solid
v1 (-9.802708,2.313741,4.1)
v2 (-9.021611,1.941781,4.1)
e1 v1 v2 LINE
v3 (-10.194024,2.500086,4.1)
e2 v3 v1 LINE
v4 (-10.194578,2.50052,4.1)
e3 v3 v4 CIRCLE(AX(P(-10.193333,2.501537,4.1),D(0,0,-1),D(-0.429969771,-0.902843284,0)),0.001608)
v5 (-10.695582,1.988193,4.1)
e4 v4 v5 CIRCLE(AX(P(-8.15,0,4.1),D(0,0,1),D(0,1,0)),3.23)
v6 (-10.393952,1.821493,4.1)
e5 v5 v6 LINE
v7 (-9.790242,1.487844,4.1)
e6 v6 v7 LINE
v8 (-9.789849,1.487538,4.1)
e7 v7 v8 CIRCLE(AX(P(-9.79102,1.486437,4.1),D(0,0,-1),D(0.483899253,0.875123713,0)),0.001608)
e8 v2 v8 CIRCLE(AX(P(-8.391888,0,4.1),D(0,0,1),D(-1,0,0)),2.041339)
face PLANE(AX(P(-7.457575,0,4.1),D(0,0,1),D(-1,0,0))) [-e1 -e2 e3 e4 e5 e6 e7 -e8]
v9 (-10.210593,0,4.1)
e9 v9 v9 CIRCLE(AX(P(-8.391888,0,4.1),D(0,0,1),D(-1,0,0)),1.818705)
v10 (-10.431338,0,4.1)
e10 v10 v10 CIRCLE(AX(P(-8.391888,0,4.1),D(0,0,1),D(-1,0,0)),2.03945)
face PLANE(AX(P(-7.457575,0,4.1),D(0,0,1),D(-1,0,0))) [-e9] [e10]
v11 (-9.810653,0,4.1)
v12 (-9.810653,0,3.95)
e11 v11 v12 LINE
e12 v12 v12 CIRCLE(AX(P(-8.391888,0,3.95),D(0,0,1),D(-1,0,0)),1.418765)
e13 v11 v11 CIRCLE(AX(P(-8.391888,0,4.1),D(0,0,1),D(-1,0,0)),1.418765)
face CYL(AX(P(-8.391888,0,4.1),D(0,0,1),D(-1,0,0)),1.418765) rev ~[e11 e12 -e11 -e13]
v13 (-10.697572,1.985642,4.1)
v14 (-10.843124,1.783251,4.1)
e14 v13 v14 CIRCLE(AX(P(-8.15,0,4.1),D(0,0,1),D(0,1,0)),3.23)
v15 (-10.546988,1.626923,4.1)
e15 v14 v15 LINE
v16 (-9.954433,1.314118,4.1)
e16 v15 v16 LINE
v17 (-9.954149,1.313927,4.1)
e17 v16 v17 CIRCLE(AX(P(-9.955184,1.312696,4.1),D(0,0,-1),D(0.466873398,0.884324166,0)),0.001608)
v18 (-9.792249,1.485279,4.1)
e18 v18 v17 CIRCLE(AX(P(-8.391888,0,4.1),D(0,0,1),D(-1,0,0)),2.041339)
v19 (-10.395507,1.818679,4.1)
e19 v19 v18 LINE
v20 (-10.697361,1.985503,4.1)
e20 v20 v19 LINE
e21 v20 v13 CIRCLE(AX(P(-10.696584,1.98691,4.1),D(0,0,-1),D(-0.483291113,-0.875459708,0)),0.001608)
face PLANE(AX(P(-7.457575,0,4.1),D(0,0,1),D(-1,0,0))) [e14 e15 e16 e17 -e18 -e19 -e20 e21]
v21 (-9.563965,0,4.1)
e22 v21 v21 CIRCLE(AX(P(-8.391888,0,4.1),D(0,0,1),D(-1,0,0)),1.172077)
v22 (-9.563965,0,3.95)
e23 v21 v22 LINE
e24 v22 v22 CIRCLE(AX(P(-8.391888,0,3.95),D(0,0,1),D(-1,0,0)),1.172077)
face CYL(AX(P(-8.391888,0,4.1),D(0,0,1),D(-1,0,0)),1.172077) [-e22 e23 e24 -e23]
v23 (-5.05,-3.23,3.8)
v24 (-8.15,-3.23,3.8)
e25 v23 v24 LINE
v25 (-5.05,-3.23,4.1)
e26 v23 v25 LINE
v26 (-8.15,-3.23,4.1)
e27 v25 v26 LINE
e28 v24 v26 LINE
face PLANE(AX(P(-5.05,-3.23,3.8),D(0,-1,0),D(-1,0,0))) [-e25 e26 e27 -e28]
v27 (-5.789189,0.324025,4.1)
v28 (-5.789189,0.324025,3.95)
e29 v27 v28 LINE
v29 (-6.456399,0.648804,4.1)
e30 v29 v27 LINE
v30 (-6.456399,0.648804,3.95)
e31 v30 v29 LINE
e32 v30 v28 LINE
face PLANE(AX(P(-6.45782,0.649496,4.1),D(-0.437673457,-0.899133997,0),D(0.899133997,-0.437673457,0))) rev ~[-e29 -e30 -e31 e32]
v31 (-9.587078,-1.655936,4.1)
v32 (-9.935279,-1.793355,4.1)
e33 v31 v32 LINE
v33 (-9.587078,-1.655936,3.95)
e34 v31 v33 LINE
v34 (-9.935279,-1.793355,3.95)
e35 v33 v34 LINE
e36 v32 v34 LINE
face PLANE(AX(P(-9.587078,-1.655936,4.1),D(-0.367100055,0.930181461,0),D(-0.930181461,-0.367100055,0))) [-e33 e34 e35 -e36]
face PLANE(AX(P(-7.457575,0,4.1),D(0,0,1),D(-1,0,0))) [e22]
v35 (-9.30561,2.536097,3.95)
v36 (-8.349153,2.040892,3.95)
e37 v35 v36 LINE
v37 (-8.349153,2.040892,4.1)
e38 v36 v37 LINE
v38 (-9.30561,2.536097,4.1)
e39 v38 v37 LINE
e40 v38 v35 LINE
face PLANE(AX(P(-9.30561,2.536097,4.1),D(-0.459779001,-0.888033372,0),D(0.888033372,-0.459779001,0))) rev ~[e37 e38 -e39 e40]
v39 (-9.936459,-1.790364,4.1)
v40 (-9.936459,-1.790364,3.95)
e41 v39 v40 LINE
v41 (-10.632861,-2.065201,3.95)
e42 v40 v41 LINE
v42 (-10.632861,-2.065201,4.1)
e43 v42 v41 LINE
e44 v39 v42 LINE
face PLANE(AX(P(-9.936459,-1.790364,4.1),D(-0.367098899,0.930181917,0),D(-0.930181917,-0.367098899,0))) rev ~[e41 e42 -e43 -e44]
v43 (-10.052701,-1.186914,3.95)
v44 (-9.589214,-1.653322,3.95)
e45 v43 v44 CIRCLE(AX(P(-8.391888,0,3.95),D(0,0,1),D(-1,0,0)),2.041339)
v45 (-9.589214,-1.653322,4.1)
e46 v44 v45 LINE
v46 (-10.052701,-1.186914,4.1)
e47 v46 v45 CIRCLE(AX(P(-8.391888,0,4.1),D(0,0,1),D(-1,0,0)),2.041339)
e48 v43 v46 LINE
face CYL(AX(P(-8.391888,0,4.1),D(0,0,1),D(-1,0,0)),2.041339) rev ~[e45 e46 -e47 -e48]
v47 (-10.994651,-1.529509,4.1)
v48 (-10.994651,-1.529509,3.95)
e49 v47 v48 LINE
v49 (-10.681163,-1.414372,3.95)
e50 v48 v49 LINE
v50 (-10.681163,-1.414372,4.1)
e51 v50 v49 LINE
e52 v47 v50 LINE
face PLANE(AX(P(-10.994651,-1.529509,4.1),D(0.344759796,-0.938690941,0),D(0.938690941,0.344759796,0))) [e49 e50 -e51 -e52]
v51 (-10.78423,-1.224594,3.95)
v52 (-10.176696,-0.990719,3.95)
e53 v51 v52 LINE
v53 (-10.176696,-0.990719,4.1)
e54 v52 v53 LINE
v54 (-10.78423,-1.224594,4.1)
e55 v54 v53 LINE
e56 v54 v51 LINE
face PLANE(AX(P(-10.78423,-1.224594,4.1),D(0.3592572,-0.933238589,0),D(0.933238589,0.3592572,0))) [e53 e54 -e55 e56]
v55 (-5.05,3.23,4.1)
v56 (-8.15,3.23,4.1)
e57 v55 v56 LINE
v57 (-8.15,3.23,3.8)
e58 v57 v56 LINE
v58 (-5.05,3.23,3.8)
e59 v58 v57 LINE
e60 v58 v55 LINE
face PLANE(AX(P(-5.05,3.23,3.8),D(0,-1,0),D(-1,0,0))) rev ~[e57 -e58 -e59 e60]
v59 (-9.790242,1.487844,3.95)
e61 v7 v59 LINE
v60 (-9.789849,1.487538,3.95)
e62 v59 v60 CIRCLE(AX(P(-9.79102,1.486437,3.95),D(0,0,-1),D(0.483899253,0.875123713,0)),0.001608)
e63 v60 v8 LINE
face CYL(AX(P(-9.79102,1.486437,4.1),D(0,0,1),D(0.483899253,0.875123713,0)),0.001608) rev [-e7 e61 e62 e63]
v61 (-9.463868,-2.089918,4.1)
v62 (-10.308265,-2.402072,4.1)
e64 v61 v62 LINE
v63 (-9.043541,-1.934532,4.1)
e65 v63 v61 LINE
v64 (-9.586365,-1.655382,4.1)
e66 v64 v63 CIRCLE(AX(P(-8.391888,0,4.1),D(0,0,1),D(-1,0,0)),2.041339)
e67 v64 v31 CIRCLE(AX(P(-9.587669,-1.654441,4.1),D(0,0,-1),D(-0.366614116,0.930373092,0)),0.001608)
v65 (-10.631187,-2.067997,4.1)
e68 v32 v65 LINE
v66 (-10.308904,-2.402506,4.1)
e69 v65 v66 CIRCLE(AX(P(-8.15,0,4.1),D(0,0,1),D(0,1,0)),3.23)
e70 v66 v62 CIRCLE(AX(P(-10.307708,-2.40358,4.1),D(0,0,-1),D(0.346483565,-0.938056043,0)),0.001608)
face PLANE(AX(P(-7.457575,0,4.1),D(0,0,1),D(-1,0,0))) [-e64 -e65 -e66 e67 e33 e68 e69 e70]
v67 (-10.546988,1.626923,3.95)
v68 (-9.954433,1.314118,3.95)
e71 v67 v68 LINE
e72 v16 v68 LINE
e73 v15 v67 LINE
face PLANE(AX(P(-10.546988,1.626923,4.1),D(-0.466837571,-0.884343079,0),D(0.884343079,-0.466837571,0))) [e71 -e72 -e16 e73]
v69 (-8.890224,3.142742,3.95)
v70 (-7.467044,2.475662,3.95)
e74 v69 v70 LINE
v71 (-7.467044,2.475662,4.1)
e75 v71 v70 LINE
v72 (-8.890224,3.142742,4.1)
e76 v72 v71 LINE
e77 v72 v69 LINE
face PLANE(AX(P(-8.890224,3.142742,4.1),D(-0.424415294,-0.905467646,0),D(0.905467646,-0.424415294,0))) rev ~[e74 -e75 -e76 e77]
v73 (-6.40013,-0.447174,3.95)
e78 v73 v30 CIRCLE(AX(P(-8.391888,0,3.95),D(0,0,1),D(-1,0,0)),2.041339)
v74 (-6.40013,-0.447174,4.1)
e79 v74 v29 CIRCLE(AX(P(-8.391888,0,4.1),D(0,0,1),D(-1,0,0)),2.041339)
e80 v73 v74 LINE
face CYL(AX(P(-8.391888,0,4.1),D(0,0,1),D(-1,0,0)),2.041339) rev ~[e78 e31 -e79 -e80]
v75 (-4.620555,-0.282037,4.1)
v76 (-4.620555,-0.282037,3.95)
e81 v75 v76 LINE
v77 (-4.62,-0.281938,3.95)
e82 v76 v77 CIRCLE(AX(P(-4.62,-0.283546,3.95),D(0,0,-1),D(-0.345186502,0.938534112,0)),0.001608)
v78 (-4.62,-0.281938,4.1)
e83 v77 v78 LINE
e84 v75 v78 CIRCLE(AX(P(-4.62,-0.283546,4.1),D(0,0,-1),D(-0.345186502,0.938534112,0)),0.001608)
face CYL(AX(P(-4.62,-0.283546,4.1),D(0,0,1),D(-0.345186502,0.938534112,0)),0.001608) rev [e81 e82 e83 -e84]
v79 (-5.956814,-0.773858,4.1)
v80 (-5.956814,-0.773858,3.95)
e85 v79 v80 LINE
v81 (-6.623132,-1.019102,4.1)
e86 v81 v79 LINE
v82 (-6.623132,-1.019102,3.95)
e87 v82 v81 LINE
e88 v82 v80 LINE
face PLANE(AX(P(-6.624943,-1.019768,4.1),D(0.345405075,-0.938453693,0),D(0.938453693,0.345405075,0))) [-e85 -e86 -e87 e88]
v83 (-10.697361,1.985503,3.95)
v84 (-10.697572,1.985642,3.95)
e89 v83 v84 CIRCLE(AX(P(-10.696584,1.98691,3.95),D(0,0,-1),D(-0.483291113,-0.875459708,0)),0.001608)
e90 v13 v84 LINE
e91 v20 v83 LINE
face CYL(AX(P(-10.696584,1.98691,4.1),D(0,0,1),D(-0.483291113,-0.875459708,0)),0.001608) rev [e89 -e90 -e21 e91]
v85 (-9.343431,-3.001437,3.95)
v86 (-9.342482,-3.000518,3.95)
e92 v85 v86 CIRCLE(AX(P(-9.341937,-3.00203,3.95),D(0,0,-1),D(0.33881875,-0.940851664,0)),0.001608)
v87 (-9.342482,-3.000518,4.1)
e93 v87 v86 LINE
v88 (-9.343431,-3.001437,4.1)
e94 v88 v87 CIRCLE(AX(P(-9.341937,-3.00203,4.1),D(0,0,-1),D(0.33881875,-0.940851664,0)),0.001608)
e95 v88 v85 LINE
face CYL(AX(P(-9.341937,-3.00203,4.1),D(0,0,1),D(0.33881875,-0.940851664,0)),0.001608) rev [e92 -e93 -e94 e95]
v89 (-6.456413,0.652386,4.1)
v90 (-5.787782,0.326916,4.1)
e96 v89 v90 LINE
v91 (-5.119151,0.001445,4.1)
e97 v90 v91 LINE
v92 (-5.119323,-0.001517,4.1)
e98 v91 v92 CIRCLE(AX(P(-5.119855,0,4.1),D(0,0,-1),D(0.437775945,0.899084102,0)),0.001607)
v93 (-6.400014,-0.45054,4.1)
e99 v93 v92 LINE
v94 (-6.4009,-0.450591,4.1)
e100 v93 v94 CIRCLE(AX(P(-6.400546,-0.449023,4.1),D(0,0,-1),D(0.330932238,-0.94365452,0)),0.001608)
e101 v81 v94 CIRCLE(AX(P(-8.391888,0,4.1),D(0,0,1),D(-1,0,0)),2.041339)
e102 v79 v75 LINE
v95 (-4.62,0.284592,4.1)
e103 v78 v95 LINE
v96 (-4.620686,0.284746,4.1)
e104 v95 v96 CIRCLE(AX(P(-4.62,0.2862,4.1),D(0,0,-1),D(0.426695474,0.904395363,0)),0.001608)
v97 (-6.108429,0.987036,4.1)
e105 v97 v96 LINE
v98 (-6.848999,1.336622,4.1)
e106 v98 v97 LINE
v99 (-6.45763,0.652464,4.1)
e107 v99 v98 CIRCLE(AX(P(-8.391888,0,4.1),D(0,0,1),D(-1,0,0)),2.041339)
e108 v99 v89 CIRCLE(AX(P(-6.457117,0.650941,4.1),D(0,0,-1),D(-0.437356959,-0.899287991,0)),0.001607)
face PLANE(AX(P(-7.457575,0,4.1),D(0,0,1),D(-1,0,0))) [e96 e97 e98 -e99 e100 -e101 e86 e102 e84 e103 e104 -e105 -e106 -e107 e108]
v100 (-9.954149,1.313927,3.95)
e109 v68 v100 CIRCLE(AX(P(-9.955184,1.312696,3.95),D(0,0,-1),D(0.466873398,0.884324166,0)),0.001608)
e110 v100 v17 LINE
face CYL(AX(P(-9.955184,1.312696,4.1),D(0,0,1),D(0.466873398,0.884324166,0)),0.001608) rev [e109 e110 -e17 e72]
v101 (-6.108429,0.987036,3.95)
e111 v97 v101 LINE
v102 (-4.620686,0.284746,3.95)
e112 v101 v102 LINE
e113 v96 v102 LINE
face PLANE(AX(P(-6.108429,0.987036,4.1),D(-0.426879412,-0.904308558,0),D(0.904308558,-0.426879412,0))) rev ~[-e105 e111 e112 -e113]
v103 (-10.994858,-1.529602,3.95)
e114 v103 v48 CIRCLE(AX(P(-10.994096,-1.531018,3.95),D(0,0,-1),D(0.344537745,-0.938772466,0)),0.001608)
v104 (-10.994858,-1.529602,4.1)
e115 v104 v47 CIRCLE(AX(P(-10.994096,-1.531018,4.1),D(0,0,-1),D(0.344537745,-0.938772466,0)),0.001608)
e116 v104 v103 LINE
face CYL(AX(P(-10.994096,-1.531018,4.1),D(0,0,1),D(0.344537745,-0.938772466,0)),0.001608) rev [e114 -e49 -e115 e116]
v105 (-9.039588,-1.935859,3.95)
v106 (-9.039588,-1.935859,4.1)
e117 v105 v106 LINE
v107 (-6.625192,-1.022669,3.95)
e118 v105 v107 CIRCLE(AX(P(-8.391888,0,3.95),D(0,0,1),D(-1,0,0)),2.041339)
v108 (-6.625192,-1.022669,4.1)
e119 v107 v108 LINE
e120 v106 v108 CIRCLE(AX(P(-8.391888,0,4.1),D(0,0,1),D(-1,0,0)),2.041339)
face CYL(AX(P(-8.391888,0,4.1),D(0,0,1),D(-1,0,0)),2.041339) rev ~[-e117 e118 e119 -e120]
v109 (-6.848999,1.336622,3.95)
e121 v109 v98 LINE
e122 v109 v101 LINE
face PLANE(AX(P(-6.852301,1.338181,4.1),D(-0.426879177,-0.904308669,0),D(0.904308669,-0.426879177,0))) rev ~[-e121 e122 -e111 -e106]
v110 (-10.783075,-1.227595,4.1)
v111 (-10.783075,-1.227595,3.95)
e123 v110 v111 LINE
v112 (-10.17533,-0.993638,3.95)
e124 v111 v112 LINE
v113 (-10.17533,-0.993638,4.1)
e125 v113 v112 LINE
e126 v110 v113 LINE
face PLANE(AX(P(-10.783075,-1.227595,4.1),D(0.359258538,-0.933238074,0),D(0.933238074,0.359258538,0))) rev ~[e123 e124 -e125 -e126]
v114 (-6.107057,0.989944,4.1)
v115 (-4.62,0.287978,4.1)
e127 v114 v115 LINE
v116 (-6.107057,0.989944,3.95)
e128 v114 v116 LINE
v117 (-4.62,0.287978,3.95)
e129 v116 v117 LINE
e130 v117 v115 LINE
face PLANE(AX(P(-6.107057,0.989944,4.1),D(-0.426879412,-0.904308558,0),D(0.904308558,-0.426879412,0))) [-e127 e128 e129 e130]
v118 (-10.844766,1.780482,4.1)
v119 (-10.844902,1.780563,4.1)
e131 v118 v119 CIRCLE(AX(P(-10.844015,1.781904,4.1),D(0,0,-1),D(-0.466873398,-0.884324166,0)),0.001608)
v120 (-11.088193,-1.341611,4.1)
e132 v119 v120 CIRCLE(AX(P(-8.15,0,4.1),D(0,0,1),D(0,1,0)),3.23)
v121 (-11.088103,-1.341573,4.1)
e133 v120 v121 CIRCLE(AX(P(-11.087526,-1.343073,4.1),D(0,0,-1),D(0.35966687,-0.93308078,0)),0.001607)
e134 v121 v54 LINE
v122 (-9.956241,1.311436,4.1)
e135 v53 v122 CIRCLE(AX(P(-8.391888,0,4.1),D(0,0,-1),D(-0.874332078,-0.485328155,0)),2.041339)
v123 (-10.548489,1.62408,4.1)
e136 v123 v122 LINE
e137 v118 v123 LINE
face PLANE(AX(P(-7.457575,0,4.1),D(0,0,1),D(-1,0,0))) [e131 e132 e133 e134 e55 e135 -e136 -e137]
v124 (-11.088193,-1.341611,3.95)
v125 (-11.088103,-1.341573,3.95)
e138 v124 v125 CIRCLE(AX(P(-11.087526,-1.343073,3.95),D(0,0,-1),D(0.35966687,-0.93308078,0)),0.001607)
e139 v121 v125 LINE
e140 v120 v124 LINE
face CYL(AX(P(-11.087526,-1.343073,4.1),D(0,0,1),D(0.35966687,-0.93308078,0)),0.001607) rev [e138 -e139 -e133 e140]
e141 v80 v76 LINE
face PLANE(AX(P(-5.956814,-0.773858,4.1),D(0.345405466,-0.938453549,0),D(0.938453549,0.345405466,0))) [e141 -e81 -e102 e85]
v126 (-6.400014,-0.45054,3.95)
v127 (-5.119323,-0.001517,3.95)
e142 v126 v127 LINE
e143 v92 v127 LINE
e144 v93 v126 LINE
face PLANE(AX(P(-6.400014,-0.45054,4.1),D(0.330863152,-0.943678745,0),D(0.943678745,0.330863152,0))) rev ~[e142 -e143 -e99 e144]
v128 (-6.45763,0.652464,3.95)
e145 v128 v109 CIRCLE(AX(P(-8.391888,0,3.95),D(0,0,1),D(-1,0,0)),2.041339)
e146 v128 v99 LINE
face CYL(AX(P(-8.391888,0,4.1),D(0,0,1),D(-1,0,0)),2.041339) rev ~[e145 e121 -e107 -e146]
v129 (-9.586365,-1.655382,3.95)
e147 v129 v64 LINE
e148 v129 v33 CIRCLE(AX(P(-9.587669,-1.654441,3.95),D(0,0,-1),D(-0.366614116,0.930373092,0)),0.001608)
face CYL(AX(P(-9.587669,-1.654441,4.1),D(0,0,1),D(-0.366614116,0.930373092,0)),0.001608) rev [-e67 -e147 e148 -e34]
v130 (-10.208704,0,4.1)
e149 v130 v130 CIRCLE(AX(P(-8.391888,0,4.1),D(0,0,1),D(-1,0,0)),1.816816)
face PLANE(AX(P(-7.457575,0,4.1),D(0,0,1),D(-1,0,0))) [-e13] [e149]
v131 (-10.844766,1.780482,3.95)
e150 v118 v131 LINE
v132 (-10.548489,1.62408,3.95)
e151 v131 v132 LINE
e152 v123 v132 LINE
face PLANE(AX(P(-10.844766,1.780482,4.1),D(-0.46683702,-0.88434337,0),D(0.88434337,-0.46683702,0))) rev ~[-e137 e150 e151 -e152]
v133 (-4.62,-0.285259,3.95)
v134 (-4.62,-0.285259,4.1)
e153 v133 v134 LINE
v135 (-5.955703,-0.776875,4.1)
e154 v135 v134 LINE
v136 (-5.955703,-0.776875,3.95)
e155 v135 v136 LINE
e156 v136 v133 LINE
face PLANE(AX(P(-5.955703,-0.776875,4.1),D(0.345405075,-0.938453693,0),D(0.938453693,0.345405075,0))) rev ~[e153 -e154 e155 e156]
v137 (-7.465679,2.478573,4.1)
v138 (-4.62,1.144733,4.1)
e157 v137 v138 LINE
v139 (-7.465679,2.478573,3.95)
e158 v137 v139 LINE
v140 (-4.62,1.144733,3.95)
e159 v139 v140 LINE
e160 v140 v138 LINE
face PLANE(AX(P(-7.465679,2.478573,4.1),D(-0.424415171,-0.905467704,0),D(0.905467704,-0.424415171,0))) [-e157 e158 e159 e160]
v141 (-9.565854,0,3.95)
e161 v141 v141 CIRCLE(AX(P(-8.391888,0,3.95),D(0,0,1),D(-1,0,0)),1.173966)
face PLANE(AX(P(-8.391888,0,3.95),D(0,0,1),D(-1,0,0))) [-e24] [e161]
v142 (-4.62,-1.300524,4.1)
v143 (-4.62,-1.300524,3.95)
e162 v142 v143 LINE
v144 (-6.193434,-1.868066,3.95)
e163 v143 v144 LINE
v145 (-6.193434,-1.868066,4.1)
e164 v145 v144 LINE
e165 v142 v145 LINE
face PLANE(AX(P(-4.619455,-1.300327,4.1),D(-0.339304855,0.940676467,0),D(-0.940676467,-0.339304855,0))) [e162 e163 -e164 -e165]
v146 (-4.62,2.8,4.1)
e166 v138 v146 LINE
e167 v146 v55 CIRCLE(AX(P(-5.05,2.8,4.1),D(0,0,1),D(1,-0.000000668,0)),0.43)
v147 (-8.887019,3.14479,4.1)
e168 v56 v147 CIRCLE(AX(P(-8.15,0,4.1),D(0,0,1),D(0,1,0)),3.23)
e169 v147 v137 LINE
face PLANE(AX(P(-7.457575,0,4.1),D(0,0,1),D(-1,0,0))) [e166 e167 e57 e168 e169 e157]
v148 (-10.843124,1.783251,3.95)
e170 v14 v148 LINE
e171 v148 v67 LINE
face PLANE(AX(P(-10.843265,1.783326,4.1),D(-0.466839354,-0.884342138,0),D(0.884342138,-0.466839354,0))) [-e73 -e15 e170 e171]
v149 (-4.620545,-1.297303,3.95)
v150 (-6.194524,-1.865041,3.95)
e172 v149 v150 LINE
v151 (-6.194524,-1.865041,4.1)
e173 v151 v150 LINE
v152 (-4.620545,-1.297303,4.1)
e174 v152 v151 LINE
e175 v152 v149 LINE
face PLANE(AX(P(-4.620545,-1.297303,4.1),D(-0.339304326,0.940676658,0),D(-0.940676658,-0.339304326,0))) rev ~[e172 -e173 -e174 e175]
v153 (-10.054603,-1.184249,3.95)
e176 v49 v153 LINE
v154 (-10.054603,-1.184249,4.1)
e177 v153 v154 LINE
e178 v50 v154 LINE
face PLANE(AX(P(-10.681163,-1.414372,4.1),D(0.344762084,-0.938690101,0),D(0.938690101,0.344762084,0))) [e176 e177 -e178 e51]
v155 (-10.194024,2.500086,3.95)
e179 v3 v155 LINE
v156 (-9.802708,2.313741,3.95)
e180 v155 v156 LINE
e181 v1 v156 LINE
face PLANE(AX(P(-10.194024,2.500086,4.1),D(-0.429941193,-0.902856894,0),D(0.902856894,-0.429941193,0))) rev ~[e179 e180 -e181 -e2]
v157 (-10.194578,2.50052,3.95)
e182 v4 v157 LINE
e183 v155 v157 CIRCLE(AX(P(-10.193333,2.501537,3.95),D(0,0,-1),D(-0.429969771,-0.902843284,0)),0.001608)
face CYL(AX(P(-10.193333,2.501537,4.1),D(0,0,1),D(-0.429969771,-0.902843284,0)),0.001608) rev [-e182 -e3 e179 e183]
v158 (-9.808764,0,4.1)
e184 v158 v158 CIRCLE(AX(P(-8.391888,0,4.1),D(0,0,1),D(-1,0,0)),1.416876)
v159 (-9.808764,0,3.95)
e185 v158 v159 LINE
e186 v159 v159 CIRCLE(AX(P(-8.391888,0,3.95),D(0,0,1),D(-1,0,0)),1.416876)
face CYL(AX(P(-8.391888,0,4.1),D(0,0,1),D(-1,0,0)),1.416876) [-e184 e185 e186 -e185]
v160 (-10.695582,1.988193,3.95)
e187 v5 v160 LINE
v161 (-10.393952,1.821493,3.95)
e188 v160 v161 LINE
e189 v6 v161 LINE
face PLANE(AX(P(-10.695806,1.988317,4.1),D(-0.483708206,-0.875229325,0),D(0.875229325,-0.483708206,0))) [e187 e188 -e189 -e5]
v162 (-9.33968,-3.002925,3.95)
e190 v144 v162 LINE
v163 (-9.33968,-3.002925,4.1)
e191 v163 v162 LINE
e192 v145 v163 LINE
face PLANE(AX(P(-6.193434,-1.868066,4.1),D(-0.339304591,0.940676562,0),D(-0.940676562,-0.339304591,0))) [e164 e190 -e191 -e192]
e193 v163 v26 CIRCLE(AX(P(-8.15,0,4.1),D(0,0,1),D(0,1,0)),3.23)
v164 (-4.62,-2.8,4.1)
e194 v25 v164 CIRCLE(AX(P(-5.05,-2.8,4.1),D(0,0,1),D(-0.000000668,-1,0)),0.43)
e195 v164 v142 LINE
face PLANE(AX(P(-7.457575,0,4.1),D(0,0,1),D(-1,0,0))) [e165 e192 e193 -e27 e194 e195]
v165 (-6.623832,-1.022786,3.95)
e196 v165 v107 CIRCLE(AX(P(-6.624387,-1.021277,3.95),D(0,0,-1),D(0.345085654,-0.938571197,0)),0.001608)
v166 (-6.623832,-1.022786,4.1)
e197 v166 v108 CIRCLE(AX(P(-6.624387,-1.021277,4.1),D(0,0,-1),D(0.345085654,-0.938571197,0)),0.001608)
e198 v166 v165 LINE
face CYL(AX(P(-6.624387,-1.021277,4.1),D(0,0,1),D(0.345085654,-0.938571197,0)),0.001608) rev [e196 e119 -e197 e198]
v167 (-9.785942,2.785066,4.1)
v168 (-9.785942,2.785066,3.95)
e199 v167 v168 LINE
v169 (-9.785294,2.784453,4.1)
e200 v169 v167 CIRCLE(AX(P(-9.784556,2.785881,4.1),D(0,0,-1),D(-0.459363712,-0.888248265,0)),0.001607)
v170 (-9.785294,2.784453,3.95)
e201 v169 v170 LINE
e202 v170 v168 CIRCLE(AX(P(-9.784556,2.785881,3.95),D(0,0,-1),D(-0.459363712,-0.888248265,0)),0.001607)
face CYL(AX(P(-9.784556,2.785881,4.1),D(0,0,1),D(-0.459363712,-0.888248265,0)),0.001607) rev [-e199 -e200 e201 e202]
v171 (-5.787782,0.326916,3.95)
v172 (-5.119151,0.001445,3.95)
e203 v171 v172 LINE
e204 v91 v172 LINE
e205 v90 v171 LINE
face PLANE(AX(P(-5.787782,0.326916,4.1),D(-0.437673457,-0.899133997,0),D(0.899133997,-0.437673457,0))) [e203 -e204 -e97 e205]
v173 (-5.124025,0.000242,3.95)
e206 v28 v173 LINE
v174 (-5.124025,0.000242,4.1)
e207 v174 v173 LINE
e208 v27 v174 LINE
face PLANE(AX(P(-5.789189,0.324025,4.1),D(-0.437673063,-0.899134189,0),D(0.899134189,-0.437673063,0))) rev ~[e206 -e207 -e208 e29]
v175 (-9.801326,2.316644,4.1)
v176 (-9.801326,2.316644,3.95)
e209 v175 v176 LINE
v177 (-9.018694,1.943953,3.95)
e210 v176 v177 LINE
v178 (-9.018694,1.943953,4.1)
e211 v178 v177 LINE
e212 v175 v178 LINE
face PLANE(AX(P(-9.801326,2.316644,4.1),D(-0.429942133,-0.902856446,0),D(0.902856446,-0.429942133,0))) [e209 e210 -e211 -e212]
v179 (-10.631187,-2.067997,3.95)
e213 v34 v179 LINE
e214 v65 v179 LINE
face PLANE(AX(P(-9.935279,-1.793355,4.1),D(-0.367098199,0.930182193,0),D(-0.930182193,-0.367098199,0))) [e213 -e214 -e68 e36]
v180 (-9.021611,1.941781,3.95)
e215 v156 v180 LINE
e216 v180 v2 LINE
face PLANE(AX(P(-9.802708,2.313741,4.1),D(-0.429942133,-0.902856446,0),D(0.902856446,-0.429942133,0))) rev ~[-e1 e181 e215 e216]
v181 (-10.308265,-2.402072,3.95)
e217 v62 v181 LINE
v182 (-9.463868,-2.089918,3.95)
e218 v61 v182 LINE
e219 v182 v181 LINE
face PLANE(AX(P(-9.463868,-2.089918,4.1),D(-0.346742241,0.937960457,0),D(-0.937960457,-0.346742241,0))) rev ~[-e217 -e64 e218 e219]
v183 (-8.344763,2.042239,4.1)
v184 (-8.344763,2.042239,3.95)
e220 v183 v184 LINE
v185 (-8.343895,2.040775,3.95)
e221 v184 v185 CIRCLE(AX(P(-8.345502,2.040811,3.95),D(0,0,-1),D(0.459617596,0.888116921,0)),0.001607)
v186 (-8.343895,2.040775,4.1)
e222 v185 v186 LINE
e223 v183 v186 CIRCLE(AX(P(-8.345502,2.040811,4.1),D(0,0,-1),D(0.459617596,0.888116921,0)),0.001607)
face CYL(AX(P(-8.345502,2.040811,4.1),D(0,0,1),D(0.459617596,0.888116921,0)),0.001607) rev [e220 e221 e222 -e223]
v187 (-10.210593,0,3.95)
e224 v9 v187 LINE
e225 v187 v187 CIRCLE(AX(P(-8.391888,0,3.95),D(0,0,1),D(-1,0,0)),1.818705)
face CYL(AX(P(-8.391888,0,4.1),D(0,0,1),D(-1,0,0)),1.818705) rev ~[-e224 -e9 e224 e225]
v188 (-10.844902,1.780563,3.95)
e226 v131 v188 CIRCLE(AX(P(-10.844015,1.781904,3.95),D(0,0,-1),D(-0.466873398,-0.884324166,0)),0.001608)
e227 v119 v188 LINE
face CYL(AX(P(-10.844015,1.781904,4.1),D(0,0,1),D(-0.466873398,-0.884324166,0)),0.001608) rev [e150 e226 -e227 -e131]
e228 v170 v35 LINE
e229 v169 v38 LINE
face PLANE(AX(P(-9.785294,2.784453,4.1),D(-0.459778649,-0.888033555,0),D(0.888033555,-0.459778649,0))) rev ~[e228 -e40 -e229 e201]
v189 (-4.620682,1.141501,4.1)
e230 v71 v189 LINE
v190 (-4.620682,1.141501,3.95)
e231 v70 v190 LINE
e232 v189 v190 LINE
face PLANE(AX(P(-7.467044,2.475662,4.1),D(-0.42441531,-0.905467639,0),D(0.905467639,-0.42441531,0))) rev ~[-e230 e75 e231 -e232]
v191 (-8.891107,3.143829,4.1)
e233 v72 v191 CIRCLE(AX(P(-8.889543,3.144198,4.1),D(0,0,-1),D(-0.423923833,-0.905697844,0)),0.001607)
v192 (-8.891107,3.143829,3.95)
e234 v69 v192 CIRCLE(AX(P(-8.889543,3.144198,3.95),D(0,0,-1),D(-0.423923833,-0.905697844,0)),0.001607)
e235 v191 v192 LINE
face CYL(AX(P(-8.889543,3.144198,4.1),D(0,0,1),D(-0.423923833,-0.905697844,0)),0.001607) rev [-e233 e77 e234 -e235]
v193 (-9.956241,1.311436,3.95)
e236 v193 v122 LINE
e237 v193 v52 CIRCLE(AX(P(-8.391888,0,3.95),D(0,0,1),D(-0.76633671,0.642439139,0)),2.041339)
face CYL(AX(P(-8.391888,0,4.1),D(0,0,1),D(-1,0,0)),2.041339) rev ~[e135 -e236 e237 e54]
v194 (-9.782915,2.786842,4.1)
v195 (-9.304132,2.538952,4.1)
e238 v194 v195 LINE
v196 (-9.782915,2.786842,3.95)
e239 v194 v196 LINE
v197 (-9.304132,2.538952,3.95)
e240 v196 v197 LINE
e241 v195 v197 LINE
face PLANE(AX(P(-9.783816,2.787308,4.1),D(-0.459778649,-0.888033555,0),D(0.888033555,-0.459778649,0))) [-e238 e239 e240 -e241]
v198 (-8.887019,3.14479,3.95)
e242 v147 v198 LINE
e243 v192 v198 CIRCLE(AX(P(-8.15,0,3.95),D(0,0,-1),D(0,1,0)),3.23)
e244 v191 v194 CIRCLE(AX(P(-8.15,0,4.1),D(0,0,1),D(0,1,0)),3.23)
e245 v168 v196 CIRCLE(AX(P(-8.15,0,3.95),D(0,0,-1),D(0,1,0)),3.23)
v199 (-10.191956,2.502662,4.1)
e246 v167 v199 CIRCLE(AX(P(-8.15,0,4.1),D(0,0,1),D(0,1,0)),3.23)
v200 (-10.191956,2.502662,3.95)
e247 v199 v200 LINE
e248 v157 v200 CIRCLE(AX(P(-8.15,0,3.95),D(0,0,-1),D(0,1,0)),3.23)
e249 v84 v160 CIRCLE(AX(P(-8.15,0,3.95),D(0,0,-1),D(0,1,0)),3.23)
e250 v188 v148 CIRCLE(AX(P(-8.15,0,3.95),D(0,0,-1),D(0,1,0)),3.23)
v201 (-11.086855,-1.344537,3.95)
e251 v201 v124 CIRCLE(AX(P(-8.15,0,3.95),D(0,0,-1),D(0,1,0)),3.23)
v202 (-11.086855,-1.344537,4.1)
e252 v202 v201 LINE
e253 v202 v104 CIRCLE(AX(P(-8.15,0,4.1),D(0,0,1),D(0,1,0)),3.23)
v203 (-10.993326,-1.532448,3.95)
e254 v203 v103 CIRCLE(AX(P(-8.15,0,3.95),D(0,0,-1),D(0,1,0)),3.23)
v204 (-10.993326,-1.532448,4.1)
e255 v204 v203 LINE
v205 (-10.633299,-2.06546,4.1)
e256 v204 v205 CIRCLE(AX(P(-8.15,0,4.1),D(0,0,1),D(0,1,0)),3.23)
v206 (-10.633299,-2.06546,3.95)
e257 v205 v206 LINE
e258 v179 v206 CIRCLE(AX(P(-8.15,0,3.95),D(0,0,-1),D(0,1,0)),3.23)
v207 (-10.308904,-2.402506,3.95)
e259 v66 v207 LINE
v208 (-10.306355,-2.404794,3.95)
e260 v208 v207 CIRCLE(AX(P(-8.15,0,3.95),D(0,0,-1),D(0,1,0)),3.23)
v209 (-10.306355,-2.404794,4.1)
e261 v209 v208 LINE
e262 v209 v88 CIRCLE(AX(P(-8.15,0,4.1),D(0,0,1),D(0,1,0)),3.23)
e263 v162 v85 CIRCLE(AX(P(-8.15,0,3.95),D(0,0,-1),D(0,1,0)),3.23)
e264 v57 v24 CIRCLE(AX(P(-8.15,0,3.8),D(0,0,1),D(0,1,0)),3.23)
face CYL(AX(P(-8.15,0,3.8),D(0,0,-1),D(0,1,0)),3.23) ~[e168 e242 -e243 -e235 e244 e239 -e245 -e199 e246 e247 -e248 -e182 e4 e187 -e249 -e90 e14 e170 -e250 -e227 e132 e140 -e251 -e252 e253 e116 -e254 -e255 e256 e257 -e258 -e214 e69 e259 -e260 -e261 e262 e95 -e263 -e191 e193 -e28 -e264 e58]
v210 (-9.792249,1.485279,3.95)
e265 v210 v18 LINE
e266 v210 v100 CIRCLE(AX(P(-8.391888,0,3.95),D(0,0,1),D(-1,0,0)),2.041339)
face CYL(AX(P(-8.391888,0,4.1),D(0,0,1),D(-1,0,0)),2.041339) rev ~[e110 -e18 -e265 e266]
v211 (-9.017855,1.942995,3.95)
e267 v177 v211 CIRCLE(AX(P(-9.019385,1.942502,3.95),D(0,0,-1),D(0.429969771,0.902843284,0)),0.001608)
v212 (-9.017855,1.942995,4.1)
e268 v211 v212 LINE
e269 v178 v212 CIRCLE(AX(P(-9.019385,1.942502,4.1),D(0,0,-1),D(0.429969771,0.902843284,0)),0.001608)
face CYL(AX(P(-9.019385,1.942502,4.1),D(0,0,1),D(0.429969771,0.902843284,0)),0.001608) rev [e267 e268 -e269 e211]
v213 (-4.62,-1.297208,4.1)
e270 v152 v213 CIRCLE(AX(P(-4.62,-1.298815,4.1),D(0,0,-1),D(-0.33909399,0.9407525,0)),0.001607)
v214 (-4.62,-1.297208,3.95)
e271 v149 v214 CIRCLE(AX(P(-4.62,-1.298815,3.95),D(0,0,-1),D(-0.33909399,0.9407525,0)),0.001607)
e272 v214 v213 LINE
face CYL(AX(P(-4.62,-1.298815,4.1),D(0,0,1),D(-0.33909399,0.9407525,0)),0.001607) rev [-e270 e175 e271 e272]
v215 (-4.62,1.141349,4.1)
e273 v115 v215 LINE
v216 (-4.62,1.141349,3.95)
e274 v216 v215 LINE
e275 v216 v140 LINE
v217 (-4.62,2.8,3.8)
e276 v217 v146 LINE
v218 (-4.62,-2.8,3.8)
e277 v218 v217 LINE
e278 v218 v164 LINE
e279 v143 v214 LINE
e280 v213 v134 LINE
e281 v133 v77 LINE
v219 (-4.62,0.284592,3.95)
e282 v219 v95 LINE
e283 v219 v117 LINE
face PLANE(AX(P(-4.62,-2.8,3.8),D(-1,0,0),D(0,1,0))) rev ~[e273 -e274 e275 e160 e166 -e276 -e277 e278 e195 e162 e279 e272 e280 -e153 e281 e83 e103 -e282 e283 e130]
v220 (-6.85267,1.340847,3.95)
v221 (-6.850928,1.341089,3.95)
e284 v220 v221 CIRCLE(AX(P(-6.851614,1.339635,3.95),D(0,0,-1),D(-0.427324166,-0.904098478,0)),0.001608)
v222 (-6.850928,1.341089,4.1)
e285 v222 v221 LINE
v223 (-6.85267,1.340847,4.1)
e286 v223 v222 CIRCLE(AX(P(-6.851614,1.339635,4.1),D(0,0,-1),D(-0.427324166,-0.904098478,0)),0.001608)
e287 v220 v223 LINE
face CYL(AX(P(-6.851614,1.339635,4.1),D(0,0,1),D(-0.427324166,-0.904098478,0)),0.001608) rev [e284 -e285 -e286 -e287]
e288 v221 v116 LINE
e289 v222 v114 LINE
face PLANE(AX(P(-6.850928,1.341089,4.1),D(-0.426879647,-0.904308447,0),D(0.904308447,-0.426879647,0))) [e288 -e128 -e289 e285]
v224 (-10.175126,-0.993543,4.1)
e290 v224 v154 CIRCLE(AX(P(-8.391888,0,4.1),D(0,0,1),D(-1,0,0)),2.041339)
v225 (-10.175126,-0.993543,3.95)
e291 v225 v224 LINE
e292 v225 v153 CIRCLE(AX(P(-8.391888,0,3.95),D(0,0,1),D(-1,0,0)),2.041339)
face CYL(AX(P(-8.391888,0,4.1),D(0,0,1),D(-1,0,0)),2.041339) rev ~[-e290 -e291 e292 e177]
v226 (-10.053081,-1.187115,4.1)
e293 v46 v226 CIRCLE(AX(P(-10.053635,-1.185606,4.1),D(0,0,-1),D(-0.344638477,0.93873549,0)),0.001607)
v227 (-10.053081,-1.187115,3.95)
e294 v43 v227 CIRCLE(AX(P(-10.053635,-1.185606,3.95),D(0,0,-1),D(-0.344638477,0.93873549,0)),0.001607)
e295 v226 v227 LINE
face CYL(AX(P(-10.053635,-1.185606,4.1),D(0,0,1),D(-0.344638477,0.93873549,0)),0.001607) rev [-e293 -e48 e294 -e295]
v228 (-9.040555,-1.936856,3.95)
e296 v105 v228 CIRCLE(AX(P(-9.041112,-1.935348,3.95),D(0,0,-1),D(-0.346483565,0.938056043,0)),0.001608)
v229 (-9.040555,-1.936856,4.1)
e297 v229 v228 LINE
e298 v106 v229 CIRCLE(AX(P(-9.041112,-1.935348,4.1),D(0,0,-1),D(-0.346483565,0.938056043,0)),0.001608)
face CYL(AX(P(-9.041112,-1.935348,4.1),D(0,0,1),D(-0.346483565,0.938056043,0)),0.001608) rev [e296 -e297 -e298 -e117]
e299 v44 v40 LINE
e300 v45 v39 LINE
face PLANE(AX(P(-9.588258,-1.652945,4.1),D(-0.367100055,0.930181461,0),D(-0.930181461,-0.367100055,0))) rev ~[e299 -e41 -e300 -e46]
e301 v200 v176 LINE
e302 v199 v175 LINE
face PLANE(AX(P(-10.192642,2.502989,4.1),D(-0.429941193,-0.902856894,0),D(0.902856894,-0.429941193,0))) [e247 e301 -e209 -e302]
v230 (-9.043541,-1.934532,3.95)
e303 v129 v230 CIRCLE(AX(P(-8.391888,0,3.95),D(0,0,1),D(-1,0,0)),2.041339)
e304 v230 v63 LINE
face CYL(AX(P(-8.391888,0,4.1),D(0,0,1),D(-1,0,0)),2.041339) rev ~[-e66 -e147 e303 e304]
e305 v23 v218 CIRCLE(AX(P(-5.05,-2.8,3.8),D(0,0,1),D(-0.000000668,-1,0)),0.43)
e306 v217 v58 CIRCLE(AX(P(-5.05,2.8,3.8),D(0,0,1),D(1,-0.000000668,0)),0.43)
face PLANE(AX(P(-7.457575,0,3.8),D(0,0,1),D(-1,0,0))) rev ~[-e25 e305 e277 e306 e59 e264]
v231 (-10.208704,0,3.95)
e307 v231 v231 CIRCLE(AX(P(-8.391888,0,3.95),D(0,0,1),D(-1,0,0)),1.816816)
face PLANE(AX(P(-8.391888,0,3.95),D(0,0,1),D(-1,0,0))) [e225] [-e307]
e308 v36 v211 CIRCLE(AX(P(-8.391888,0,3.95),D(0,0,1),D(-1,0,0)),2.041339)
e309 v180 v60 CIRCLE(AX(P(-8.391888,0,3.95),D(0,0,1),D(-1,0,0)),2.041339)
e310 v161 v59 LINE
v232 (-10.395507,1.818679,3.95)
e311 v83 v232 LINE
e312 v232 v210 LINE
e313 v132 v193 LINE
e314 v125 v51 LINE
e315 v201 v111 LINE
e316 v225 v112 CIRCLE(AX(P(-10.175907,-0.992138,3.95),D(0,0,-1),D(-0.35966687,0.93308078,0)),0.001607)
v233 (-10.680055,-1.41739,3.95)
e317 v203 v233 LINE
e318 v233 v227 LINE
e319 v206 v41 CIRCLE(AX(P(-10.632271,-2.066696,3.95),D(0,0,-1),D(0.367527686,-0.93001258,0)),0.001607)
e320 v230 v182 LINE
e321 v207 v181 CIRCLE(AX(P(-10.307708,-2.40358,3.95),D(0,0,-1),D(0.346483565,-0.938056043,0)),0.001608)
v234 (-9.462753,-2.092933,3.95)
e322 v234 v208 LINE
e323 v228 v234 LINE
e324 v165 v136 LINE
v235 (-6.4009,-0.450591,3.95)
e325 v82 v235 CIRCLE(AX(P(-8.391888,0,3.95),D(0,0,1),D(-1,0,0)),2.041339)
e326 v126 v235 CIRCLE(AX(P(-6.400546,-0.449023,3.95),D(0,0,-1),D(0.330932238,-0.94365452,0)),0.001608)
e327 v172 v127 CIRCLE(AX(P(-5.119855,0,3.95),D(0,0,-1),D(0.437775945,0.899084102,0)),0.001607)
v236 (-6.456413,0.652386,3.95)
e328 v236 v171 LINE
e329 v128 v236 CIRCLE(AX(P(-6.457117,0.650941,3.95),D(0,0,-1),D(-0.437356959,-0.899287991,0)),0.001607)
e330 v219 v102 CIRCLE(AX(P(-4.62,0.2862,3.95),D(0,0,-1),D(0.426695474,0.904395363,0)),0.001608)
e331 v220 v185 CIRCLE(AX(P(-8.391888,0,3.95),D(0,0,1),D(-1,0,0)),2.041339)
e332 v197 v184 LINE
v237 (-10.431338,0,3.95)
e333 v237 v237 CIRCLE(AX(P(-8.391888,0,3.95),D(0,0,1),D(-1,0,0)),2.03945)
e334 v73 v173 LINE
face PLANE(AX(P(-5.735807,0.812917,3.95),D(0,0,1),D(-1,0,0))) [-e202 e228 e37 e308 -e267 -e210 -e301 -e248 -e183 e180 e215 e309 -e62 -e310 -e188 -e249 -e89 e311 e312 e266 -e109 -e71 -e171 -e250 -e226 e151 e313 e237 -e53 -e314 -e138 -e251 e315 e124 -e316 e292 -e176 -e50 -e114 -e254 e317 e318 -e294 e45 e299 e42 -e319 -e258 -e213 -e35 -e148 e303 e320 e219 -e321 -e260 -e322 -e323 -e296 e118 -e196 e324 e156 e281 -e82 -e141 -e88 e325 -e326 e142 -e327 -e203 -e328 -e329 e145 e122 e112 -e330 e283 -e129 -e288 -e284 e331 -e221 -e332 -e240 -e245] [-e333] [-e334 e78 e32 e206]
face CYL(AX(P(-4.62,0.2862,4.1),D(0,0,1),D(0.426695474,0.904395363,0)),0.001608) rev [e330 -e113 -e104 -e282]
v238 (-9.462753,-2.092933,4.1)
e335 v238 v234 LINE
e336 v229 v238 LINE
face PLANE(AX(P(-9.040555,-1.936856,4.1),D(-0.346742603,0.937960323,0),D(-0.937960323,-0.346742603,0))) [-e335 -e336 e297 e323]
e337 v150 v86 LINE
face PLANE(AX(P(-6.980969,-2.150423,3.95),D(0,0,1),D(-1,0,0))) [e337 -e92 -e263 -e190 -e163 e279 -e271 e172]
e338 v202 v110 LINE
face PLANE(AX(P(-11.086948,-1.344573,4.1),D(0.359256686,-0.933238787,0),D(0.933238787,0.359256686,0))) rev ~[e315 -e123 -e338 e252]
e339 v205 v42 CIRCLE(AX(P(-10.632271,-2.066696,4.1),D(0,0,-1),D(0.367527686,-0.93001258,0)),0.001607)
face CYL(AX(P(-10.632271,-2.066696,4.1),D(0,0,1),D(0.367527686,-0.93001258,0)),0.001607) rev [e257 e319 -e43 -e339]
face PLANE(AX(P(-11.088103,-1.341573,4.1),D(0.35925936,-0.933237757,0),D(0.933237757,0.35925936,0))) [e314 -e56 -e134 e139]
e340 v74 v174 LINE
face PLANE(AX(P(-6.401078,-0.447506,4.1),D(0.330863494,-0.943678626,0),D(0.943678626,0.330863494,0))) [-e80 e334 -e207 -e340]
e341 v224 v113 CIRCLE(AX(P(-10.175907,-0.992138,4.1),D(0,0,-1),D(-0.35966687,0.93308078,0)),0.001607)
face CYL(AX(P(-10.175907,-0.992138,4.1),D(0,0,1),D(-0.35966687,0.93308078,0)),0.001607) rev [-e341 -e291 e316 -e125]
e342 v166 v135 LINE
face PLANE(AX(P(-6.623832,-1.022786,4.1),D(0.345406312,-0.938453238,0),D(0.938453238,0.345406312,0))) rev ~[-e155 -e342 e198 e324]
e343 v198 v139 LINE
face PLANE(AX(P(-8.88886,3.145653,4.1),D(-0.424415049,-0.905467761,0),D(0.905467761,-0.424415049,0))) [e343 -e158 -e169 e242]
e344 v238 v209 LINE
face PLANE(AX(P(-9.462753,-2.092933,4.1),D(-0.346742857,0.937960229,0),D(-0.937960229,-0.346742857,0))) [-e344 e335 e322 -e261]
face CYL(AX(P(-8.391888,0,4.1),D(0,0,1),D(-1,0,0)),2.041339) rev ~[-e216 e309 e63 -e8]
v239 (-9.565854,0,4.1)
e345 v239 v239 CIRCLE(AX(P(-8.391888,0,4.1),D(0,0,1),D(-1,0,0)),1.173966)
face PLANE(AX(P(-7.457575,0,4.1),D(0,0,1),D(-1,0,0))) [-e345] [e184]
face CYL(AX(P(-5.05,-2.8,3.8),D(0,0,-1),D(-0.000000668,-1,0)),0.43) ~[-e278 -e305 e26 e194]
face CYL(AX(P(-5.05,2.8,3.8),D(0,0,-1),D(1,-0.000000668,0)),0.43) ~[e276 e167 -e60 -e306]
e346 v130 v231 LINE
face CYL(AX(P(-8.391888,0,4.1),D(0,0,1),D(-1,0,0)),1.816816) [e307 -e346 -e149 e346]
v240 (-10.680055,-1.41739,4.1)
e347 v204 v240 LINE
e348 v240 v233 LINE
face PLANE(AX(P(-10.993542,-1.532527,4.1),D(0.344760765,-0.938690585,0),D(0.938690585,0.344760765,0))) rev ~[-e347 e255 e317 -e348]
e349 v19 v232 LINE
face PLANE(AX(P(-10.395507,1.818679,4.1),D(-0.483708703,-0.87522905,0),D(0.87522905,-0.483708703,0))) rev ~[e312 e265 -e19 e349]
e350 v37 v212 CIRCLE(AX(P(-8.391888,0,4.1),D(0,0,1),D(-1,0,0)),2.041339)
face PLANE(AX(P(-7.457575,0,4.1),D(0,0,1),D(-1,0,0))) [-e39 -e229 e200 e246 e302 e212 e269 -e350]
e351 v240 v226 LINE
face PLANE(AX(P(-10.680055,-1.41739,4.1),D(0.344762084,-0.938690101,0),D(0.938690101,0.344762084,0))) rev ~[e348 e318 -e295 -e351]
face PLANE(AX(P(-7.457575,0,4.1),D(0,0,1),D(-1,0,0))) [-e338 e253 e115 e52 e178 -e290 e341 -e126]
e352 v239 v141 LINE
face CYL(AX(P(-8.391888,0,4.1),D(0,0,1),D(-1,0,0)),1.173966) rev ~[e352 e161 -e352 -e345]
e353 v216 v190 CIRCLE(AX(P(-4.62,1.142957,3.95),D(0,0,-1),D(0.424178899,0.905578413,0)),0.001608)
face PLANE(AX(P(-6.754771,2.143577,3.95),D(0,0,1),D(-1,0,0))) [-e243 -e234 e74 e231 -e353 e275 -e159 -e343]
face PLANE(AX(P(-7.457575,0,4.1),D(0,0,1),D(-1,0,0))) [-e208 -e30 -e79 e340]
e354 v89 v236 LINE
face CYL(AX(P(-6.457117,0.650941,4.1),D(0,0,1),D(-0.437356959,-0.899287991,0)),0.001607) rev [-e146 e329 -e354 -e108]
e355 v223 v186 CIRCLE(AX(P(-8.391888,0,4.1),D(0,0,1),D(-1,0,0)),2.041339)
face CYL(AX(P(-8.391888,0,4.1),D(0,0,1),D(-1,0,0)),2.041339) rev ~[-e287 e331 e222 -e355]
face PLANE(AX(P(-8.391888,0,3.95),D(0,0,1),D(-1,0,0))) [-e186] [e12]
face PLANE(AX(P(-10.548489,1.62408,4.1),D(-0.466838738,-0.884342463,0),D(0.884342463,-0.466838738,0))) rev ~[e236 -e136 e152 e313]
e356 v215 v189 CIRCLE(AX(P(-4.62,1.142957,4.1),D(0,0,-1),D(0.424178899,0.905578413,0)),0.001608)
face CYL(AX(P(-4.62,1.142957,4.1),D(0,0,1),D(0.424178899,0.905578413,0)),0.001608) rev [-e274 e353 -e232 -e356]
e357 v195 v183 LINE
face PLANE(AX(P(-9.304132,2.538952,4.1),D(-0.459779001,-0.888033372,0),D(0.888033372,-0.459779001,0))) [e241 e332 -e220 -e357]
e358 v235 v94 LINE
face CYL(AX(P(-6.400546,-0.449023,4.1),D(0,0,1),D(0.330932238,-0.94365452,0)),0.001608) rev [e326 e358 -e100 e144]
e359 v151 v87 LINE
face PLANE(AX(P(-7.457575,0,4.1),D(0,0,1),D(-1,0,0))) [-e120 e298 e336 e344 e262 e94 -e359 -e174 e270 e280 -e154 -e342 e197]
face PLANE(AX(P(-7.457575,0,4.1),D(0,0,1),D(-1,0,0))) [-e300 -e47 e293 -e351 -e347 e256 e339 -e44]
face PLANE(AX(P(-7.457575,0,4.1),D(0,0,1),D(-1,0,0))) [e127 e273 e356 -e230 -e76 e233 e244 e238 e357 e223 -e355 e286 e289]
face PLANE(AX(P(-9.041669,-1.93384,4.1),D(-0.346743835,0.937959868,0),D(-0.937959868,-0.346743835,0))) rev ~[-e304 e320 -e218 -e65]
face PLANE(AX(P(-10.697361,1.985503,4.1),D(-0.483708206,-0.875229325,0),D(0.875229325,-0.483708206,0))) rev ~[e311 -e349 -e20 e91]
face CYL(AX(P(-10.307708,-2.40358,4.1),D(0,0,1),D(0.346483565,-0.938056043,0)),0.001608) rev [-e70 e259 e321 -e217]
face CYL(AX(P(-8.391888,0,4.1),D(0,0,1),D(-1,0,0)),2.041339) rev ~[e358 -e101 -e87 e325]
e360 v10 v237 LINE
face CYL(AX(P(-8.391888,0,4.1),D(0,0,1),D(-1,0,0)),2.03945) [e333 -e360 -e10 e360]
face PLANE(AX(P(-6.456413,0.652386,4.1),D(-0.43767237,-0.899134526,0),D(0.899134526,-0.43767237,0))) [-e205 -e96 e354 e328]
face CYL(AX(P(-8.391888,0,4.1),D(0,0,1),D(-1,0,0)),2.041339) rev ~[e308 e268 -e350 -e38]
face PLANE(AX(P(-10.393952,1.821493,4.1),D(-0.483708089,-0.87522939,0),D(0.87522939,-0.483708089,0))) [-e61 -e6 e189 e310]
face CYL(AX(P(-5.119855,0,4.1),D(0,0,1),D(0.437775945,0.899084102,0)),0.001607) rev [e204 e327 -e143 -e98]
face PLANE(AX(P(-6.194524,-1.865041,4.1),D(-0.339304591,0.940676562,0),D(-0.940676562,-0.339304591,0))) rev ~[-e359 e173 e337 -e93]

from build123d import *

# Parameters (mm, degrees)
PAD006_DEPTH            = 0.3
SKETCH028_R             = 2.041339
SKETCH028_R_2           = 2.03945
SKETCH028_R_3           = 1.818705
SKETCH028_R_4           = 1.816816
SKETCH028_R_5           = 1.418765
SKETCH028_R_6           = 1.416876
SKETCH028_R_7           = 1.173966
SKETCH028_R_8           = 1.172077
POCKET023_DEPTH         = 0.15
POCKET024_DEPTH         = 0.15
BODY012_PLACEMENT_ANGLE = 180


with BuildPart() as part:
    # Sketch027 (on Face1 of Binder005) → Pad006 (new body)
    with BuildSketch(Plane.XY.offset(3.7)):
        with BuildLine():
            Line((-7.43, 2.8), (-7.43, -2.8))
            ThreePointArc((-7.43, -2.8), (-7.304056, -3.104056), (-7, -3.23))
            Line((-7, -3.23), (-3.9, -3.23))
            ThreePointArc((-3.9, -3.23), (-0.67, 0), (-3.9, 3.23))
            Line((-7, 3.23), (-3.9, 3.23))
            ThreePointArc((-7, 3.23), (-7.304056, 3.104056), (-7.43, 2.8))
        make_face()
    extrude(amount=PAD006_DEPTH)

    # Sketch028 (on Face8 of Pad006) → Pocket023 (cut)
    with BuildSketch(Plane.XY.offset(4)):
        with Locations((-3.658112, 0)):
            Circle(SKETCH028_R)
        with Locations((-3.658112, 0)):
            Circle(SKETCH028_R_2, mode=Mode.SUBTRACT)
        with Locations((-3.658112, 0)):
            Circle(SKETCH028_R_3)
        with Locations((-3.658112, 0)):
            Circle(SKETCH028_R_4, mode=Mode.SUBTRACT)
        with Locations((-3.658112, 0)):
            Circle(SKETCH028_R_5)
        with Locations((-3.658112, 0)):
            Circle(SKETCH028_R_6, mode=Mode.SUBTRACT)
        with Locations((-3.658112, 0)):
            Circle(SKETCH028_R_7)
        with Locations((-3.658112, 0)):
            Circle(SKETCH028_R_8, mode=Mode.SUBTRACT)
    extrude(amount=-POCKET023_DEPTH, mode=Mode.SUBTRACT)

    # Sketch029 (on Face5 of Pocket023) → Pocket024 (cut)
    with BuildSketch(Plane.XY.offset(4)):
        with BuildLine():
            ThreePointArc((-5.59218, -0.649496), (-5.591438, -0.651645), (-5.593587, -0.652386))
            Line((-5.593587, -0.652386), (-6.262218, -0.326916))
            Line((-6.262218, -0.326916), (-6.930849, -0.001445))
            ThreePointArc((-6.930849, -0.001445), (-6.93175, 9.3e-05), (-6.930677, 0.001517))
            Line((-5.649986, 0.45054), (-6.930677, 0.001517))
            ThreePointArc((-5.649986, 0.45054), (-5.647937, 0.449555), (-5.648922, 0.447506))
            Line((-5.648922, 0.447506), (-6.925975, -0.000242))
            Line((-6.260811, -0.324025), (-6.925975, -0.000242))
            Line((-5.59218, -0.649496), (-6.260811, -0.324025))
        make_face()
        with BuildLine():
            Line((-2.461742, 1.652945), (-2.113541, 1.790364))
            Line((-2.113541, 1.790364), (-1.417139, 2.065201))
            ThreePointArc((-1.41832, 2.068191), (-1.416234, 2.067286), (-1.417139, 2.065201))
            Line((-2.114721, 1.793355), (-1.41832, 2.068191))
            Line((-2.462922, 1.655936), (-2.114721, 1.793355))
            ThreePointArc((-2.461742, 1.652945), (-2.463827, 1.653851), (-2.462922, 1.655936))
        make_face()
        with BuildLine():
            Line((-1.056458, 1.532527), (-1.369945, 1.41739))
            Line((-1.369945, 1.41739), (-1.996919, 1.187115))
            ThreePointArc((-1.995811, 1.184097), (-1.997874, 1.185052), (-1.996919, 1.187115))
            Line((-1.368837, 1.414372), (-1.995811, 1.184097))
            Line((-1.055349, 1.529509), (-1.368837, 1.414372))
            ThreePointArc((-1.056458, 1.532527), (-1.054395, 1.531572), (-1.055349, 1.529509))
        make_face()
        with BuildLine():
            Line((-0.963052, 1.344573), (-1.266925, 1.227595))
            Line((-1.266925, 1.227595), (-1.87467, 0.993638))
            ThreePointArc((-1.873515, 0.990638), (-1.875593, 0.99156), (-1.87467, 0.993638))
            Line((-1.26577, 1.224594), (-1.873515, 0.990638))
            Line((-0.961897, 1.341573), (-1.26577, 1.224594))
            ThreePointArc((-0.963052, 1.344573), (-0.960974, 1.343651), (-0.961897, 1.341573))
        make_face()
        with BuildLine():
            Line((-1.205234, -1.780482), (-1.501511, -1.62408))
            Line((-1.501511, -1.62408), (-2.094066, -1.311274))
            ThreePointArc((-2.095567, -1.314118), (-2.096238, -1.311945), (-2.094066, -1.311274))
            Line((-1.503012, -1.626923), (-2.095567, -1.314118))
            Line((-1.206735, -1.783326), (-1.503012, -1.626923))
            ThreePointArc((-1.205234, -1.780482), (-1.204563, -1.782655), (-1.206735, -1.783326))
        make_face()
        with BuildLine():
            Line((-1.352639, -1.985503), (-1.654493, -1.818679))
            Line((-1.654493, -1.818679), (-2.258202, -1.48503))
            ThreePointArc((-2.259758, -1.487844), (-2.260387, -1.485659), (-2.258202, -1.48503))
            Line((-1.656048, -1.821493), (-2.259758, -1.487844))
            Line((-1.354194, -1.988317), (-1.656048, -1.821493))
            ThreePointArc((-1.352639, -1.985503), (-1.352009, -1.987688), (-1.354194, -1.988317))
        make_face()
        with BuildLine():
            Line((-1.855976, -2.500086), (-2.247292, -2.313741))
            Line((-2.247292, -2.313741), (-3.029924, -1.94105))
            ThreePointArc((-3.031306, -1.943953), (-3.032066, -1.94181), (-3.029924, -1.94105))
            Line((-2.248674, -2.316644), (-3.031306, -1.943953))
            Line((-1.857358, -2.502989), (-2.248674, -2.316644))
            ThreePointArc((-1.855976, -2.500086), (-1.855216, -2.502229), (-1.857358, -2.502989))
        make_face()
        with BuildLine():
            Line((-2.264706, -2.784453), (-2.74439, -2.536097))
            Line((-2.74439, -2.536097), (-3.703759, -2.039384))
            ThreePointArc((-3.705237, -2.042239), (-3.705926, -2.040073), (-3.703759, -2.039384))
            Line((-2.745868, -2.538952), (-3.705237, -2.042239))
            Line((-2.266184, -2.787308), (-2.745868, -2.538952))
            ThreePointArc((-2.264706, -2.784453), (-2.264017, -2.78662), (-2.266184, -2.787308))
        make_face()
        with BuildLine():
            Line((-3.159776, -3.142742), (-4.582956, -2.475662))
            Line((-4.582956, -2.475662), (-7.429318, -1.141501))
            ThreePointArc((-7.430682, -1.144413), (-7.431456, -1.142275), (-7.429318, -1.141501))
            Line((-4.584321, -2.478573), (-7.430682, -1.144413))
            Line((-3.16114, -3.145653), (-4.584321, -2.478573))
            ThreePointArc((-3.159776, -3.142742), (-3.159002, -3.14488), (-3.16114, -3.145653))
        make_face()
        with BuildLine():
            Line((-5.197699, -1.338181), (-5.941571, -0.987036))
            Line((-5.941571, -0.987036), (-7.429314, -0.284746))
            ThreePointArc((-7.430686, -0.287654), (-7.431454, -0.285514), (-7.429314, -0.284746))
            Line((-5.942943, -0.989944), (-7.430686, -0.287654))
            Line((-5.199072, -1.341089), (-5.942943, -0.989944))
            ThreePointArc((-5.197699, -1.338181), (-5.196932, -1.340321), (-5.199072, -1.341089))
        make_face()
        with BuildLine():
            Line((-5.426168, 1.022786), (-6.094297, 0.776875))
            Line((-6.094297, 0.776875), (-7.430555, 0.285055))
            ThreePointArc((-7.429445, 0.282037), (-7.431509, 0.282991), (-7.430555, 0.285055))
            Line((-6.093186, 0.773858), (-7.429445, 0.282037))
            Line((-5.425057, 1.019768), (-6.093186, 0.773858))
            ThreePointArc((-5.426168, 1.022786), (-5.424104, 1.021832), (-5.425057, 1.019768))
        make_face()
        with BuildLine():
            Line((-7.429455, 1.297303), (-5.855476, 1.865041))
            Line((-5.855476, 1.865041), (-2.707518, 3.000518))
            ThreePointArc((-2.708608, 3.003543), (-2.706551, 3.002576), (-2.707518, 3.000518))
            Line((-5.856566, 1.868066), (-2.708608, 3.003543))
            Line((-7.430545, 1.300327), (-5.856566, 1.868066))
            ThreePointArc((-7.429455, 1.297303), (-7.431512, 1.29827), (-7.430545, 1.300327))
        make_face()
        with BuildLine():
            ThreePointArc((-1.742849, 2.405088), (-1.740784, 2.404137), (-1.741735, 2.402072))
            Line((-2.586132, 2.089918), (-1.741735, 2.402072))
            Line((-3.008331, 1.93384), (-2.586132, 2.089918))
            ThreePointArc((-3.008331, 1.93384), (-3.010396, 1.934791), (-3.009445, 1.936856))
            Line((-3.009445, 1.936856), (-2.587247, 2.092933))
            Line((-2.587247, 2.092933), (-1.742849, 2.405088))
        make_face()
    extrude(amount=-POCKET024_DEPTH, mode=Mode.SUBTRACT)


with BuildPart() as part_1:
    # Body012 placement: moved
    add(part.part.moved(Location((-12.05, 0, 0.1))).rotate(Axis((-12.05, 0, 0.1), (0, 0, 1)), BODY012_PLACEMENT_ANGLE))


solid = part_1.part
